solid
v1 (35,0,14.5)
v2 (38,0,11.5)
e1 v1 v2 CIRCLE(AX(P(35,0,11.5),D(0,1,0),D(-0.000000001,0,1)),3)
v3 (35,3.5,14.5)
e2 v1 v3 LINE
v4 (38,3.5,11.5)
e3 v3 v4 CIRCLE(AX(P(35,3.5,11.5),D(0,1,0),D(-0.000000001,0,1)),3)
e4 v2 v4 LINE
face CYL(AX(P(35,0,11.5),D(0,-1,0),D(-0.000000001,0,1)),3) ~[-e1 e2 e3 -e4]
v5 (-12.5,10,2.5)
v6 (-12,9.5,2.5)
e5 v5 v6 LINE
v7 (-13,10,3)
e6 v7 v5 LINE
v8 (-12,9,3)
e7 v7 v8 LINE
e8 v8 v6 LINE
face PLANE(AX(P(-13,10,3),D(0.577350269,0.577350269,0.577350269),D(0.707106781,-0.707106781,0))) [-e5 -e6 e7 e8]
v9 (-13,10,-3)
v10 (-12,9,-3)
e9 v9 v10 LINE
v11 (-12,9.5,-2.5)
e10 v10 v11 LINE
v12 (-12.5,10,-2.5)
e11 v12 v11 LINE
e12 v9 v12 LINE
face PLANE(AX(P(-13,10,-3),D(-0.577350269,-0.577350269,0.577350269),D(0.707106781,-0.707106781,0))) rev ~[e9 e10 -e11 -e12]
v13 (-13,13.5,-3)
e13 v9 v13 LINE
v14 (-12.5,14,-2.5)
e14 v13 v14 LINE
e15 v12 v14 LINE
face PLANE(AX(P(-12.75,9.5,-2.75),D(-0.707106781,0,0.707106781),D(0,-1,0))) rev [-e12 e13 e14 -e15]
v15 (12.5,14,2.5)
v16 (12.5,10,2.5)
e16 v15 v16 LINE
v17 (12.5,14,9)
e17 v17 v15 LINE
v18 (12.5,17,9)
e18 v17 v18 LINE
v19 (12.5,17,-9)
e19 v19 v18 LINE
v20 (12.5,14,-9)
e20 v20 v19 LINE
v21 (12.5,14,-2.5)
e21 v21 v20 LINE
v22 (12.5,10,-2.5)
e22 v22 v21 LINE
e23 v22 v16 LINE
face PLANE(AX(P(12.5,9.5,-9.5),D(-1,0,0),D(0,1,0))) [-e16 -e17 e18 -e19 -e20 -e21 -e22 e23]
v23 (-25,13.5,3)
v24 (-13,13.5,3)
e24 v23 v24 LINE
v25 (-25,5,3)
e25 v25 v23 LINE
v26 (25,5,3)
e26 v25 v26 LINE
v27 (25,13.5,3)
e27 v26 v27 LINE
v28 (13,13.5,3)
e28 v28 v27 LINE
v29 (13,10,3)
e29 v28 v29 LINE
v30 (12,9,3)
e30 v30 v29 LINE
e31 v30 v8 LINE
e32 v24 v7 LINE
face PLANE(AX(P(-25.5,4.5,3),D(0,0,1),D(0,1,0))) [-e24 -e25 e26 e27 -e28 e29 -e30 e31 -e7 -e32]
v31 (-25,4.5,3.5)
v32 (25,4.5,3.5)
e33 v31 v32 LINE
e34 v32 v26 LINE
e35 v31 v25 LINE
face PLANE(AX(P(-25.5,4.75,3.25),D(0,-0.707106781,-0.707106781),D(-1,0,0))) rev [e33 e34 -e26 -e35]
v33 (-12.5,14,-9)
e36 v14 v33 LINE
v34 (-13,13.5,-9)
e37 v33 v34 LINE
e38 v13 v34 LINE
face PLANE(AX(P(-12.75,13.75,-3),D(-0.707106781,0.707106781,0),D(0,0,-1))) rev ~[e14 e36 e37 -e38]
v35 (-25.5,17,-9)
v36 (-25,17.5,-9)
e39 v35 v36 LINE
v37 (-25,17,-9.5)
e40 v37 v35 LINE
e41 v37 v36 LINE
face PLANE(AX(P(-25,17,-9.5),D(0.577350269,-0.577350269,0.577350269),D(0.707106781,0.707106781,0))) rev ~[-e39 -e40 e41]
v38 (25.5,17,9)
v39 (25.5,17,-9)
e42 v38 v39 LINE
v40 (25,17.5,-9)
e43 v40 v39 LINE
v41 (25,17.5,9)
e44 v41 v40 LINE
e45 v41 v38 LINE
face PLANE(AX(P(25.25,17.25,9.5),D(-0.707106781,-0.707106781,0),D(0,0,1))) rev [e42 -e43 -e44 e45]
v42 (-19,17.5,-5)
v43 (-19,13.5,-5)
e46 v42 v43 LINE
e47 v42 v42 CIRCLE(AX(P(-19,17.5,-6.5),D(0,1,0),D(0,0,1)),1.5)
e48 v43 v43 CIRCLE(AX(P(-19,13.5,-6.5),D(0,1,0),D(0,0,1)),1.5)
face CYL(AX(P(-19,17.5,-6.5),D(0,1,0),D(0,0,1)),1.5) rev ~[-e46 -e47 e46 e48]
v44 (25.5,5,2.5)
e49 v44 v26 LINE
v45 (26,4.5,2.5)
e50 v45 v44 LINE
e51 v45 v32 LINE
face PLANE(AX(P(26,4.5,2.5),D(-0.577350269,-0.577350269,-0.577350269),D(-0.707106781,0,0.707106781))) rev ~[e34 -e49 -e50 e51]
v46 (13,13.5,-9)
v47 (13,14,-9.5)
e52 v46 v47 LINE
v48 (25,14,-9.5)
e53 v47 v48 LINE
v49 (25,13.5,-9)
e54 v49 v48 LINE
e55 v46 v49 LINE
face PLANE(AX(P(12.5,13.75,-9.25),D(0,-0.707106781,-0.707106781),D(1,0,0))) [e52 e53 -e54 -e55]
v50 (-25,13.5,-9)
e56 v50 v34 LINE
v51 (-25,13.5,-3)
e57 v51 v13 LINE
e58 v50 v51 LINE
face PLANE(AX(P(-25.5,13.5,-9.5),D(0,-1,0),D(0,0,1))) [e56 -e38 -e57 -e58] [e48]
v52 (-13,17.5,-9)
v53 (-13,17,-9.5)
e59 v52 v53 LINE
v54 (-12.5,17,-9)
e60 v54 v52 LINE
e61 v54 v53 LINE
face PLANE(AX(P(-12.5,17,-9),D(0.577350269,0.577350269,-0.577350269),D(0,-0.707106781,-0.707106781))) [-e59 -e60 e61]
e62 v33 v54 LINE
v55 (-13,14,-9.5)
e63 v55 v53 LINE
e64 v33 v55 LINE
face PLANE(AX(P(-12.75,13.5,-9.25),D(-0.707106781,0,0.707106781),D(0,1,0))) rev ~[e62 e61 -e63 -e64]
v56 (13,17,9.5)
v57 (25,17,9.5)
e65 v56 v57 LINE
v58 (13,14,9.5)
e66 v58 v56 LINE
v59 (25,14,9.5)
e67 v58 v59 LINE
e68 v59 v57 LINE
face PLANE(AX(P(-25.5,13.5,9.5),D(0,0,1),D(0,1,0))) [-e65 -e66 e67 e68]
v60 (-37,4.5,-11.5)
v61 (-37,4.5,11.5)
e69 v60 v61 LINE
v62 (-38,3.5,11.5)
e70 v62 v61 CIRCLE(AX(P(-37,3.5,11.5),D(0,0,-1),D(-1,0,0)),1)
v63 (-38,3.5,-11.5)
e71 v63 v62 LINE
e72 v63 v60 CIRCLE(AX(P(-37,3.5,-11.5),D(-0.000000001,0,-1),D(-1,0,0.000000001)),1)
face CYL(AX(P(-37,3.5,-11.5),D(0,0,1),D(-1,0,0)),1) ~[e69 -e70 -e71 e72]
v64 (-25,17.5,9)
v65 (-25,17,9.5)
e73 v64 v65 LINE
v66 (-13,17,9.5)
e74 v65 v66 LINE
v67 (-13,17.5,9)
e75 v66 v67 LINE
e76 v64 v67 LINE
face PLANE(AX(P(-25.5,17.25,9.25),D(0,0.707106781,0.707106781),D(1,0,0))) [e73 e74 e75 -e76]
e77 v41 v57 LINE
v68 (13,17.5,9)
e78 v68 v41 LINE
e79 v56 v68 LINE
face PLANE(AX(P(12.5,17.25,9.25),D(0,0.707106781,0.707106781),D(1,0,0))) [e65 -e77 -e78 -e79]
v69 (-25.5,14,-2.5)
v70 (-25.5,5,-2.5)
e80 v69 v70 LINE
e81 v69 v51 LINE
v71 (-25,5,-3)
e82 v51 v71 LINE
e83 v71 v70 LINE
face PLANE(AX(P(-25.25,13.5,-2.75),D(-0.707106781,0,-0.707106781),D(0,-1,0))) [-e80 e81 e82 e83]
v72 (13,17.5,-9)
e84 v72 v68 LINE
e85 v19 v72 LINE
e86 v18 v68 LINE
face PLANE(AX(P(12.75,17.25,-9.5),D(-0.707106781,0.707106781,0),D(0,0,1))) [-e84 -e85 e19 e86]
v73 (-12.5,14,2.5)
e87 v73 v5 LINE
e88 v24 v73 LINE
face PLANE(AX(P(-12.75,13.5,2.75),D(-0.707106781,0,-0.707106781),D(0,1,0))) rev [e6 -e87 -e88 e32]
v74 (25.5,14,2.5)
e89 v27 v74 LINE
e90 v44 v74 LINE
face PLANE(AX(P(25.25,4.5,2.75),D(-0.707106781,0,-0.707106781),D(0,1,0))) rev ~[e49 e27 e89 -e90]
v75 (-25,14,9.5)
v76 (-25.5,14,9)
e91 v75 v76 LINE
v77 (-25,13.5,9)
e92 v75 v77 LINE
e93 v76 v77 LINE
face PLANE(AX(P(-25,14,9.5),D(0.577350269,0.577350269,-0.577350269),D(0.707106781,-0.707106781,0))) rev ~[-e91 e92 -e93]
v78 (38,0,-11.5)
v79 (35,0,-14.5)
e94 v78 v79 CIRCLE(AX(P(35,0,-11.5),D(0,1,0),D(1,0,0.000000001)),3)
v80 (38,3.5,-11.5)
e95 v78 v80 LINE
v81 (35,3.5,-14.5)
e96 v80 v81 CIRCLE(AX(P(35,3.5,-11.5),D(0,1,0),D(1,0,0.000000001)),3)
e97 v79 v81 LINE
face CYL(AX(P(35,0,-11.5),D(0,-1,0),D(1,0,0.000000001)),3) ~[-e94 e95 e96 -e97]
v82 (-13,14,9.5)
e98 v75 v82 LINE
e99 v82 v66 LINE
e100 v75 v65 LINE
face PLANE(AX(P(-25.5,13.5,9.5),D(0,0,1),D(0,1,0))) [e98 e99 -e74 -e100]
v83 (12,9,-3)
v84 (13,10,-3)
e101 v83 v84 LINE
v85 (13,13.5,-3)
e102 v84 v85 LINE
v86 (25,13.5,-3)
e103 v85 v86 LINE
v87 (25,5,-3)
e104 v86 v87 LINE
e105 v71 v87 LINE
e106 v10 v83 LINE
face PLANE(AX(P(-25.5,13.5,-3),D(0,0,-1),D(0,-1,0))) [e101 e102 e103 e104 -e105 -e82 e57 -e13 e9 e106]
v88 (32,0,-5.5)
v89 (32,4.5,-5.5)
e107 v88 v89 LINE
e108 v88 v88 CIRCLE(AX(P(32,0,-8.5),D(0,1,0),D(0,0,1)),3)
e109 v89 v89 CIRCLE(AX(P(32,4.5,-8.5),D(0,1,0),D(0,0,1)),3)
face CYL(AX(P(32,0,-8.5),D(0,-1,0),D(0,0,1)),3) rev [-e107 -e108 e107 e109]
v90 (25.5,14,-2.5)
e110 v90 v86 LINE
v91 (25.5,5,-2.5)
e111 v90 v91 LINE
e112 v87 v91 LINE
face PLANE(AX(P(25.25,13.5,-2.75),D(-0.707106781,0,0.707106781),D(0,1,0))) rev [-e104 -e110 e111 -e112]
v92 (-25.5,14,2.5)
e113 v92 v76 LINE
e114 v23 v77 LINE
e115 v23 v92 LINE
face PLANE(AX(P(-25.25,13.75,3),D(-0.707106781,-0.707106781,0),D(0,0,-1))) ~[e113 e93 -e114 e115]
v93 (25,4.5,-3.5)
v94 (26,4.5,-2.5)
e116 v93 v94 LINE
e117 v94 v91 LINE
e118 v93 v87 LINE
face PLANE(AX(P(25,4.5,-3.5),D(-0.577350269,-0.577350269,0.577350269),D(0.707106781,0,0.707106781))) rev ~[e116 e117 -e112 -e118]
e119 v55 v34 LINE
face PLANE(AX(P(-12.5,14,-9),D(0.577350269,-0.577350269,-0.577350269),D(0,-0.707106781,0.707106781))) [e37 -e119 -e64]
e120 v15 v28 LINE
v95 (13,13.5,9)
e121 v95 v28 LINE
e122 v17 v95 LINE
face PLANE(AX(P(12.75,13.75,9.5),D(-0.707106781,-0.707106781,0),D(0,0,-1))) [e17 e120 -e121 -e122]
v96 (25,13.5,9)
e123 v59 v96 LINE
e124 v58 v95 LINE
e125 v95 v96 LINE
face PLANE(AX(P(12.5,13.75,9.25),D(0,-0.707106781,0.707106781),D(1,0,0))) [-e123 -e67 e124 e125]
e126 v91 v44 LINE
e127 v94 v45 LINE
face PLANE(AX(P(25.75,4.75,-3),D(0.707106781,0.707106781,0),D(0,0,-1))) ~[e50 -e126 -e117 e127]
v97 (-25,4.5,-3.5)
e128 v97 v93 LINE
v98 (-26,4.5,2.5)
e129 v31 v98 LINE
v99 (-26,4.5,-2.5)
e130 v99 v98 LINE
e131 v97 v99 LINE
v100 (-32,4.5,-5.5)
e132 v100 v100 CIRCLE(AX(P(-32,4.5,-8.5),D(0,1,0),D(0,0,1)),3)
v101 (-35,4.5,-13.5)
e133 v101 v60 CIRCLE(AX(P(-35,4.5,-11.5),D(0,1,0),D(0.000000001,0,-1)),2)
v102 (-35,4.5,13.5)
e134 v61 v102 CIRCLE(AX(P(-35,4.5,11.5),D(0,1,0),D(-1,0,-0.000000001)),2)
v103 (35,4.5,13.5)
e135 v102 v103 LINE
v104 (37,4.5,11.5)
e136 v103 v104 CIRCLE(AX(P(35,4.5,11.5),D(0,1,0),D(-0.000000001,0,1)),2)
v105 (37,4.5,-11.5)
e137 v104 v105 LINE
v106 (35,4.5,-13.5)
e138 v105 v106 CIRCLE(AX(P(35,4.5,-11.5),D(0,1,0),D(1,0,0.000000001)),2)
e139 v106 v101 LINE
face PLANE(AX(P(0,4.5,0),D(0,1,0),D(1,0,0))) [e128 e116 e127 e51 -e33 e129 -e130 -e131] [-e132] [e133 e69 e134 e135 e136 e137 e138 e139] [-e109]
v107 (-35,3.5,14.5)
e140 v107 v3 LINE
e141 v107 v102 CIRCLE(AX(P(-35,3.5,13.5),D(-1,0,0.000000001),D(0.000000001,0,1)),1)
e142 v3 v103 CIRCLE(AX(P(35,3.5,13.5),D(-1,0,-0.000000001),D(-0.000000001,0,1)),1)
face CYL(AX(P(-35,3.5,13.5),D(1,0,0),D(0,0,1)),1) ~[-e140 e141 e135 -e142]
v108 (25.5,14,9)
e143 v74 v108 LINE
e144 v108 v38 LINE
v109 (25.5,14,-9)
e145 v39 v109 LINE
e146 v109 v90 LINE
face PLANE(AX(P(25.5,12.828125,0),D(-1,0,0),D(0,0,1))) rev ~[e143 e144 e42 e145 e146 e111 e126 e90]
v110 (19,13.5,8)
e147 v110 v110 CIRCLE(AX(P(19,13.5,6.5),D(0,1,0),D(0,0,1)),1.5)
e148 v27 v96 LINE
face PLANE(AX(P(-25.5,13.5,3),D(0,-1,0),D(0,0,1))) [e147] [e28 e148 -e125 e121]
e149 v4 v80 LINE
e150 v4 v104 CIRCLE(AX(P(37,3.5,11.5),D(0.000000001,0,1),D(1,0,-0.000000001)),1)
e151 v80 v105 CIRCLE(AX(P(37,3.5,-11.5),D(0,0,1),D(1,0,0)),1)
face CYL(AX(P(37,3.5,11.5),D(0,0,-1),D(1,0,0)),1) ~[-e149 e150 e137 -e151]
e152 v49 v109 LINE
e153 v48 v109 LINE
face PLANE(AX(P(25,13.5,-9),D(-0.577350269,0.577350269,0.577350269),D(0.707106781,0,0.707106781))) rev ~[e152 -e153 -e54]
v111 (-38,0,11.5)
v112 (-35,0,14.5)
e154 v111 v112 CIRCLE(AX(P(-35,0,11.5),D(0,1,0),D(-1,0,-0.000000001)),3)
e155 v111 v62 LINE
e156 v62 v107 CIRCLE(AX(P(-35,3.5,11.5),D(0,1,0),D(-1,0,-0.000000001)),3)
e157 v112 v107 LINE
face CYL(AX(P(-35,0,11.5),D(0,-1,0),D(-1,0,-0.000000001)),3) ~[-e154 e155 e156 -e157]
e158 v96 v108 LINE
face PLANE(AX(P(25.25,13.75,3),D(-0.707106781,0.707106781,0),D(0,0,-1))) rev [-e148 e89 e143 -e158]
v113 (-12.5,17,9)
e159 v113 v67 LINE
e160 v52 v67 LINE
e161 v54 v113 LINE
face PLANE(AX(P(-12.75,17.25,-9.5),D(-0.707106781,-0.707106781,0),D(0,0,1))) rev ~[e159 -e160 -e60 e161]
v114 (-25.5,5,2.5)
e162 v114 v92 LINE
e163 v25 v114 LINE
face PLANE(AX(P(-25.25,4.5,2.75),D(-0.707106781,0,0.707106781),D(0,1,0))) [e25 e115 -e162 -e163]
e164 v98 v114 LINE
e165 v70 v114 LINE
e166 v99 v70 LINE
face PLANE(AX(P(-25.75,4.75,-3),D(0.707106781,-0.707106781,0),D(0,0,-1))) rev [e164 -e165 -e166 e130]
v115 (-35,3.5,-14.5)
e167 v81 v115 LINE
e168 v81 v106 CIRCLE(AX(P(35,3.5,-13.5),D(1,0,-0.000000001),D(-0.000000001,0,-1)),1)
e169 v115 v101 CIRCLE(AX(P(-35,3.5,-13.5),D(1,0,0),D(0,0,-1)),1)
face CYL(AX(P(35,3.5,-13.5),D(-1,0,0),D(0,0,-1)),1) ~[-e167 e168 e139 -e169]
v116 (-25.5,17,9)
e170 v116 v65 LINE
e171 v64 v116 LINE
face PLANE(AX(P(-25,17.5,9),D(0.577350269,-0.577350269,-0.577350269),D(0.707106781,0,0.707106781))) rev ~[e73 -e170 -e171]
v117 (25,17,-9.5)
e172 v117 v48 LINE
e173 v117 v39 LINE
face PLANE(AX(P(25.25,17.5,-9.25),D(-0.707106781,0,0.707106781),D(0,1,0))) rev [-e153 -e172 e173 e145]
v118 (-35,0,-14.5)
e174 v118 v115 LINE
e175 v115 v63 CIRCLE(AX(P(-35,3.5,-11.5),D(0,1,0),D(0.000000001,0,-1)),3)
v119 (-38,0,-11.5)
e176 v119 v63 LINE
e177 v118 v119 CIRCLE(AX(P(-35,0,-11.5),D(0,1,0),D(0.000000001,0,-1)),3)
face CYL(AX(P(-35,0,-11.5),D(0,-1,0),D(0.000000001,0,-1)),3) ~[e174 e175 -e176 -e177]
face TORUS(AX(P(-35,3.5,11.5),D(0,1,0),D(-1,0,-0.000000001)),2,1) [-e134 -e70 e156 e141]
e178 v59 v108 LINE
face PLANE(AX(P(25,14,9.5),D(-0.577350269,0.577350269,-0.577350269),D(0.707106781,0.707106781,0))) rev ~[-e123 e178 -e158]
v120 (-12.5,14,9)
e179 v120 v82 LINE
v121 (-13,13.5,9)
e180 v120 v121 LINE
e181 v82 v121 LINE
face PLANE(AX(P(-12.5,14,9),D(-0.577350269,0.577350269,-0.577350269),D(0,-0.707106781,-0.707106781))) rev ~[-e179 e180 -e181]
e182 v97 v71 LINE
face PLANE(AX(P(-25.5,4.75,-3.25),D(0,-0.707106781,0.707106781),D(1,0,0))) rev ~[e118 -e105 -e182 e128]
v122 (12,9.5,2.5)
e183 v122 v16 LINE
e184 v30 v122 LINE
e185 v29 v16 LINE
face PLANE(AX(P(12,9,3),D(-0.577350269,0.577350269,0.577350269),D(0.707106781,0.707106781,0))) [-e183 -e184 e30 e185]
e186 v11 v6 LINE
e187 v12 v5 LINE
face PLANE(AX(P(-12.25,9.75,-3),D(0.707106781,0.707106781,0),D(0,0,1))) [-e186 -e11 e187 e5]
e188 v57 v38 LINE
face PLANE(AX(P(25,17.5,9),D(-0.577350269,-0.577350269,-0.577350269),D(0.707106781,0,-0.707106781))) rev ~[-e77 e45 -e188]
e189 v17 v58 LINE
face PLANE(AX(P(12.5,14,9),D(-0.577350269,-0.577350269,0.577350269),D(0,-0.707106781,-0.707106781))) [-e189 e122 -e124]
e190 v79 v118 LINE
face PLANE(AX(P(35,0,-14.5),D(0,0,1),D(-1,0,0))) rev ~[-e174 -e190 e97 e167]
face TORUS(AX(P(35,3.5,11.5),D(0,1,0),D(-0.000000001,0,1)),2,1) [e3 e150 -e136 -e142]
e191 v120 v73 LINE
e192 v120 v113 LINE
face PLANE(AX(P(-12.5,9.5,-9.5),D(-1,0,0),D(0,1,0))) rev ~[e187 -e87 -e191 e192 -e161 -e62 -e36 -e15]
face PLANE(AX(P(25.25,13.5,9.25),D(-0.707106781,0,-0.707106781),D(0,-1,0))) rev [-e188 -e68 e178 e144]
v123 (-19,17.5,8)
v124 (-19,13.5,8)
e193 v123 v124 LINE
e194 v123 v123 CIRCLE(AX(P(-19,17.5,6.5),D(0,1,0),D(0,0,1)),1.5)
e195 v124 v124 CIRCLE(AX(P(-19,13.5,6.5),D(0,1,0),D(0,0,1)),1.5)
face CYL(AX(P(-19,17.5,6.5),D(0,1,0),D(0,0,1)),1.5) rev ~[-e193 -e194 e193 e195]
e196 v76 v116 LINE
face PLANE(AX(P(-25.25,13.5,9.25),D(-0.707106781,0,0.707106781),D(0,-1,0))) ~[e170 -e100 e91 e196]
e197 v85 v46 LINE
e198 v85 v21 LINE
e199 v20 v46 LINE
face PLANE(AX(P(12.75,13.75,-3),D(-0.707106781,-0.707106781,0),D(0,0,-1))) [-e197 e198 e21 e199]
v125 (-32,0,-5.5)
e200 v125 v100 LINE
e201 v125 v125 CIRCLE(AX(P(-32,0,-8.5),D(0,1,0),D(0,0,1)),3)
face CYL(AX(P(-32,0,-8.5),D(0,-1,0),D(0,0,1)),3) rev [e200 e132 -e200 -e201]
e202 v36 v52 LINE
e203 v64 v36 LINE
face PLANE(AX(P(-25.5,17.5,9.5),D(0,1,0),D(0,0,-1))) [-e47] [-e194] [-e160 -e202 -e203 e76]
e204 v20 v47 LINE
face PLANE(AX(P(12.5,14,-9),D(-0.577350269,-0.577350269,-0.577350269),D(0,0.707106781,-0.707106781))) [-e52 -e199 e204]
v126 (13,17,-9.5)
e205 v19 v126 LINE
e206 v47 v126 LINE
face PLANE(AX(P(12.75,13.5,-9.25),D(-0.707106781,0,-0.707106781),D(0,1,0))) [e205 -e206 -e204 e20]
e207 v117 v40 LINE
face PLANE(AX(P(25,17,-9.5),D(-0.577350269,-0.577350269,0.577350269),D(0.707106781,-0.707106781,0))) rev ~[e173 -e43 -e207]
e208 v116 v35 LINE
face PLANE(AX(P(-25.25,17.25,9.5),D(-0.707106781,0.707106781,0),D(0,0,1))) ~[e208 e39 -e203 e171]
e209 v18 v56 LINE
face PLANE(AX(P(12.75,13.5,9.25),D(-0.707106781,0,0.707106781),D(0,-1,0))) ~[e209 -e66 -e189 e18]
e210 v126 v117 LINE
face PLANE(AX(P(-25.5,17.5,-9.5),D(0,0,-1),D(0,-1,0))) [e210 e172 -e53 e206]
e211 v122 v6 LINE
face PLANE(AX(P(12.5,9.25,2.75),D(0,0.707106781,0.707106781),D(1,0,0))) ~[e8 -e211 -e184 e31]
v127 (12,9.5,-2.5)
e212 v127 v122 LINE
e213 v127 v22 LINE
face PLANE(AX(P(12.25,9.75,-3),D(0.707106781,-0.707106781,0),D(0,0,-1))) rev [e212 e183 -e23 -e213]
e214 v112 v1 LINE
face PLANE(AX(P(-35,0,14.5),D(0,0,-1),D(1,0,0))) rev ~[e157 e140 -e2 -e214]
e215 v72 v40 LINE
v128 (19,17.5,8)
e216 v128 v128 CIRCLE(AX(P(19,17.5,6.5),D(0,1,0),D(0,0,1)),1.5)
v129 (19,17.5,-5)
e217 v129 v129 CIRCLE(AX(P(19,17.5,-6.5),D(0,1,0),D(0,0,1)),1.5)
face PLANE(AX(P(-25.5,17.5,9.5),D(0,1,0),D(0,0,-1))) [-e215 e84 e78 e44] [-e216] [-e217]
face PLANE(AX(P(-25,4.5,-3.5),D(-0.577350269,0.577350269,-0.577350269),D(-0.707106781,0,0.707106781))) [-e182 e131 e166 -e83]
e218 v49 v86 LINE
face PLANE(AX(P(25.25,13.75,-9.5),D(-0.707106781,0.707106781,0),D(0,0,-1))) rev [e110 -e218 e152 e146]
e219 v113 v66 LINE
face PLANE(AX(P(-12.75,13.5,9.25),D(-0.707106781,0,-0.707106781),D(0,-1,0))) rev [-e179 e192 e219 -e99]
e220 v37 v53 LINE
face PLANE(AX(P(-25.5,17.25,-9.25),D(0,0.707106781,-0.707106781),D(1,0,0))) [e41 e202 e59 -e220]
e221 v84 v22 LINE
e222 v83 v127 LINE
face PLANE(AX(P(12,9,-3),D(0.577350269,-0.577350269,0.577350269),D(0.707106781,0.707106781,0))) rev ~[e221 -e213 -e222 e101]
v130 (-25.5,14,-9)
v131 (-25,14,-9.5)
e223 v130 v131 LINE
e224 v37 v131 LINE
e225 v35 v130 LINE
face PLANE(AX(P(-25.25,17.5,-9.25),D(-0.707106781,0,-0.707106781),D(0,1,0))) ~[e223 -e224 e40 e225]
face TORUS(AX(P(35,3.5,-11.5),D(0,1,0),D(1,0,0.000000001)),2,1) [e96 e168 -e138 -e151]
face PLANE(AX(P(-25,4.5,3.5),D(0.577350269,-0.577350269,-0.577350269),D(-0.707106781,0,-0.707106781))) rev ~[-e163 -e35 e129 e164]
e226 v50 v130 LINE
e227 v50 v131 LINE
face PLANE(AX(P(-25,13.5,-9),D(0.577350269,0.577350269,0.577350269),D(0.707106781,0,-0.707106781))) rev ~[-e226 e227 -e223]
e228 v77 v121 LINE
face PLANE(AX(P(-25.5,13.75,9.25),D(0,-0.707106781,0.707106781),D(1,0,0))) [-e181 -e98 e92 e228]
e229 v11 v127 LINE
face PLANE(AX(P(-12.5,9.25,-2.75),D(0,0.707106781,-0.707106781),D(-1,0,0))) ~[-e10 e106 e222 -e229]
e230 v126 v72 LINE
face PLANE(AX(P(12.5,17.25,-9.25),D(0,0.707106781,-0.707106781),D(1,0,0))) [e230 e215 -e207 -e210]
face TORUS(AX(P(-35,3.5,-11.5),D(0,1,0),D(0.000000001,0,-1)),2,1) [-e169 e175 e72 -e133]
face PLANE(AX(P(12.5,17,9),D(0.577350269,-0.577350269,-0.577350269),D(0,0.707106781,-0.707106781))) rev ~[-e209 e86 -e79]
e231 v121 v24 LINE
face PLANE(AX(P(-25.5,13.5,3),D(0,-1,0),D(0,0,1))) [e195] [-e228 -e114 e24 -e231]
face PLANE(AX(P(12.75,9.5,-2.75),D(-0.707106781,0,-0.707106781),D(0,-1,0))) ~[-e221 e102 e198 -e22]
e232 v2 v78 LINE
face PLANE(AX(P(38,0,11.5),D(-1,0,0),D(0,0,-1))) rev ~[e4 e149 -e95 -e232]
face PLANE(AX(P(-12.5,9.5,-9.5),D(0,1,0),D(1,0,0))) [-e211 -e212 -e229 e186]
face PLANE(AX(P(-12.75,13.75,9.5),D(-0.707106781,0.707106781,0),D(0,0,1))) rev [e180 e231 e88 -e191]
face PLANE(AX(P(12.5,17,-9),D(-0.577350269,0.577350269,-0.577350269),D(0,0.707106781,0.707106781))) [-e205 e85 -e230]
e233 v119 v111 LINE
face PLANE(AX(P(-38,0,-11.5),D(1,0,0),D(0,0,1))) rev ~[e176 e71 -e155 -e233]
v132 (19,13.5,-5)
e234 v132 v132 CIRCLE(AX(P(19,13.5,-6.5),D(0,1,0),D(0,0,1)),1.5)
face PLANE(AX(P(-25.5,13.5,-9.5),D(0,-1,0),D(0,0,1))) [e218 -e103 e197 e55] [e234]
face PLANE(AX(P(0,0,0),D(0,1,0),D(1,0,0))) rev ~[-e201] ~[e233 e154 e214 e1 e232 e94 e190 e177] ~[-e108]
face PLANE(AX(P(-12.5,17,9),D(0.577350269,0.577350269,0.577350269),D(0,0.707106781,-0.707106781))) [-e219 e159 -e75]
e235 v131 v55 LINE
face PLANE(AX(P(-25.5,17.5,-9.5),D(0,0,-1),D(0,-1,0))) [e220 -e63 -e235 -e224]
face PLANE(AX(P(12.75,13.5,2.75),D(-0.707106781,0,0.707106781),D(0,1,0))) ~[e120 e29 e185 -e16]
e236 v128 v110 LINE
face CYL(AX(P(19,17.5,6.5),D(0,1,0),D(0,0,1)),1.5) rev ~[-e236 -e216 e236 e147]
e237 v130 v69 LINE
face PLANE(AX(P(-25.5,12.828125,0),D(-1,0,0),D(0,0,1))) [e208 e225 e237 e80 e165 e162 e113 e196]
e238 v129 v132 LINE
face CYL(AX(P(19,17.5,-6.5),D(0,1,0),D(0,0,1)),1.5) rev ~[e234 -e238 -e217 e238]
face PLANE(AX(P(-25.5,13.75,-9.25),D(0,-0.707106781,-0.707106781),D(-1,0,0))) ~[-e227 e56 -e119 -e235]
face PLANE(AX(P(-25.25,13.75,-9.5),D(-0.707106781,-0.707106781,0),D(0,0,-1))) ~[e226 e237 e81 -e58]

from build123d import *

# Parameters (mm, degrees)
SKETCH1_R                = 3
BOSS_EXTRUDE1_DEPTH      = 4.5
BOSS_EXTRUDE2_DEPTH      = 25.5
BOSS_EXTRUDE2_DEPTH_BACK = 25.5
CUT_EXTRUDE1_DEPTH       = 9.5
CUT_EXTRUDE1_DEPTH_BACK  = 9.5
SKETCH3_W                = 25
SKETCH3_H                = 16
CUT_EXTRUDE2_REACH       = 46.278
SKETCH4_R                = 1.5
FILLET1_R                = 1
CHAMFER1_SIZE            = 0.5


with BuildPart() as part:
    # Sketch1 → Boss-Extrude1 (new body)
    with BuildSketch(Plane(origin=(0, 0, 0), x_dir=(1, 0, 0), z_dir=(0, 1, 0))):
        with BuildLine():
            Line((-35, -14.5), (35, -14.5))
            ThreePointArc((35, -14.5), (37.121320344, -13.621320344), (38, -11.5))
            Line((38, -11.5), (38, 11.5))
            ThreePointArc((38, 11.5), (37.121320344, 13.621320344), (35, 14.5))
            Line((35, 14.5), (-35, 14.5))
            ThreePointArc((-35, 14.5), (-37.121320344, 13.621320344), (-38, 11.5))
            Line((-38, 11.5), (-38, -11.5))
            ThreePointArc((-38, -11.5), (-37.121320344, -13.621320344), (-35, -14.5))
        make_face()
        with Locations(Location((-32, 8.5, 0), (0, 0, 270))):
            Circle(SKETCH1_R, mode=Mode.SUBTRACT)
        with Locations(Location((32, 8.5, 0), (0, 0, 270))):
            Circle(SKETCH1_R, mode=Mode.SUBTRACT)
    extrude(amount=BOSS_EXTRUDE1_DEPTH)

    # Sketch2 → Boss-Extrude2 (add, two sides: drawn at the far end of the back side and taken through both)
    with BuildSketch(Plane(origin=(0, 0, 0), x_dir=(0, 0, -1), z_dir=(1, 0, 0)).offset(-BOSS_EXTRUDE2_DEPTH_BACK)):
        Polygon((-3, 4.5), (-3, 13.5), (-9.5, 13.5), (-9.5, 17.5), (9.5, 17.5), (9.5, 13.5), (3, 13.5), (3, 4.5), align=None)
    extrude(amount=BOSS_EXTRUDE2_DEPTH + BOSS_EXTRUDE2_DEPTH_BACK)

    # Sketch3 → Cut-Extrude1 (cut, two sides: drawn at the far end of the back side and taken through both)
    with BuildSketch(Plane.XY.offset(-CUT_EXTRUDE1_DEPTH_BACK)):
        with Locations((0, 17.5)):
            Rectangle(SKETCH3_W, SKETCH3_H)
    extrude(amount=CUT_EXTRUDE1_DEPTH + CUT_EXTRUDE1_DEPTH_BACK, mode=Mode.SUBTRACT)

    # Sketch4 → Cut-Extrude2 (cut, up to next)
    with BuildSketch(Plane(origin=(0, 17.5, 0), x_dir=(1, 0, 0), z_dir=(0, 1, 0)), mode=Mode.PRIVATE) as cut_extrude2_sk1:
        with Locations(Location((-19, 6.5, 0), (0, 0, 270))):
            Circle(SKETCH4_R)
    cut_extrude2_tool1 = extrude(cut_extrude2_sk1.sketch, amount=-CUT_EXTRUDE2_REACH, mode=Mode.PRIVATE) & part.part
    # Sketch4 → Cut-Extrude2 (cut, up to next)
    with BuildSketch(Plane(origin=(0, 17.5, 0), x_dir=(1, 0, 0), z_dir=(0, 1, 0)), mode=Mode.PRIVATE) as cut_extrude2_sk2:
        with Locations(Location((-19, -6.5, 0), (0, 0, 270))):
            Circle(SKETCH4_R)
    cut_extrude2_tool2 = extrude(cut_extrude2_sk2.sketch, amount=-CUT_EXTRUDE2_REACH, mode=Mode.PRIVATE) & part.part
    # Sketch4 → Cut-Extrude2 (cut, up to next)
    with BuildSketch(Plane(origin=(0, 17.5, 0), x_dir=(1, 0, 0), z_dir=(0, 1, 0)), mode=Mode.PRIVATE) as cut_extrude2_sk3:
        with Locations(Location((19, -6.5, 0), (0, 0, 270))):
            Circle(SKETCH4_R)
    cut_extrude2_tool3 = extrude(cut_extrude2_sk3.sketch, amount=-CUT_EXTRUDE2_REACH, mode=Mode.PRIVATE) & part.part
    # Sketch4 → Cut-Extrude2 (cut, up to next)
    with BuildSketch(Plane(origin=(0, 17.5, 0), x_dir=(1, 0, 0), z_dir=(0, 1, 0)), mode=Mode.PRIVATE) as cut_extrude2_sk4:
        with Locations(Location((19, 6.5, 0), (0, 0, 270))):
            Circle(SKETCH4_R)
    cut_extrude2_tool4 = extrude(cut_extrude2_sk4.sketch, amount=-CUT_EXTRUDE2_REACH, mode=Mode.PRIVATE) & part.part
    add(cut_extrude2_tool1.solids().sort_by_distance((-19, 17.5, -6.5))[0], mode=Mode.SUBTRACT)
    add(cut_extrude2_tool2.solids().sort_by_distance((-19, 17.5, 6.5))[0], mode=Mode.SUBTRACT)
    add(cut_extrude2_tool3.solids().sort_by_distance((19, 17.5, 6.5))[0], mode=Mode.SUBTRACT)
    add(cut_extrude2_tool4.solids().sort_by_distance((19, 17.5, -6.5))[0], mode=Mode.SUBTRACT)

    # Fillet1
    fillet1_edges = [part.edges().sort_by_distance(p)[0] for p in [
        (37.121320344, 4.5, 13.621320344),
        (38, 4.5, 0),
        (37.121320344, 4.5, -13.621320344),
        (0, 4.5, -14.5),
        (-37.121320344, 4.5, -13.621320344),
        (-38, 4.5, 0),
        (-37.121320344, 4.5, 13.621320344),
        (0, 4.5, 14.5),
    ]]
    fillet(fillet1_edges, radius=FILLET1_R)

    # Chamfer1
    chamfer1_edges = [part.edges().sort_by_distance(p)[0] for p in [
        (25.5, 9, 3),
        (25.5, 13.5, 6.25),
        (19, 13.5, 9.5),
        (25.5, 15.5, 9.5),
        (19, 17.5, 9.5),
        (25.5, 17.5, 0),
        (19, 17.5, -9.5),
        (25.5, 15.5, -9.5),
        (19, 13.5, -9.5),
        (25.5, 13.5, -6.25),
        (25.5, 9, -3),
        (0, 4.5, -3),
        (25.5, 4.5, 0),
        (0, 4.5, 3),
        (-25.5, 4.5, 0),
        (-25.5, 9, 3),
        (-25.5, 13.5, 6.25),
        (-25.5, 15.5, 9.5),
        (-25.5, 17.5, 0),
        (-25.5, 15.5, -9.5),
        (-25.5, 13.5, -6.25),
        (-25.5, 9, -3),
        (-12.5, 11.5, -3),
        (0, 9.5, -3),
        (12.5, 11.5, -3),
        (-19, 13.5, -9.5),
        (-19, 17.5, -9.5),
        (-19, 17.5, 9.5),
        (-19, 13.5, 9.5),
        (-12.5, 15.5, 9.5),
        (12.5, 15.5, 9.5),
        (12.5, 13.5, 6.25),
        (12.5, 11.5, 3),
        (12.5, 13.5, -6.25),
        (12.5, 15.5, -9.5),
        (12.5, 17.5, 0),
        (12.5, 9.5, 0),
        (0, 9.5, 3),
        (-12.5, 9.5, 0),
        (-12.5, 11.5, 3),
        (-12.5, 13.5, 6.25),
        (-12.5, 17.5, 0),
        (-12.5, 15.5, -9.5),
        (-12.5, 13.5, -6.25),
    ]]
    chamfer(chamfer1_edges, length=CHAMFER1_SIZE)


solid = part.part
